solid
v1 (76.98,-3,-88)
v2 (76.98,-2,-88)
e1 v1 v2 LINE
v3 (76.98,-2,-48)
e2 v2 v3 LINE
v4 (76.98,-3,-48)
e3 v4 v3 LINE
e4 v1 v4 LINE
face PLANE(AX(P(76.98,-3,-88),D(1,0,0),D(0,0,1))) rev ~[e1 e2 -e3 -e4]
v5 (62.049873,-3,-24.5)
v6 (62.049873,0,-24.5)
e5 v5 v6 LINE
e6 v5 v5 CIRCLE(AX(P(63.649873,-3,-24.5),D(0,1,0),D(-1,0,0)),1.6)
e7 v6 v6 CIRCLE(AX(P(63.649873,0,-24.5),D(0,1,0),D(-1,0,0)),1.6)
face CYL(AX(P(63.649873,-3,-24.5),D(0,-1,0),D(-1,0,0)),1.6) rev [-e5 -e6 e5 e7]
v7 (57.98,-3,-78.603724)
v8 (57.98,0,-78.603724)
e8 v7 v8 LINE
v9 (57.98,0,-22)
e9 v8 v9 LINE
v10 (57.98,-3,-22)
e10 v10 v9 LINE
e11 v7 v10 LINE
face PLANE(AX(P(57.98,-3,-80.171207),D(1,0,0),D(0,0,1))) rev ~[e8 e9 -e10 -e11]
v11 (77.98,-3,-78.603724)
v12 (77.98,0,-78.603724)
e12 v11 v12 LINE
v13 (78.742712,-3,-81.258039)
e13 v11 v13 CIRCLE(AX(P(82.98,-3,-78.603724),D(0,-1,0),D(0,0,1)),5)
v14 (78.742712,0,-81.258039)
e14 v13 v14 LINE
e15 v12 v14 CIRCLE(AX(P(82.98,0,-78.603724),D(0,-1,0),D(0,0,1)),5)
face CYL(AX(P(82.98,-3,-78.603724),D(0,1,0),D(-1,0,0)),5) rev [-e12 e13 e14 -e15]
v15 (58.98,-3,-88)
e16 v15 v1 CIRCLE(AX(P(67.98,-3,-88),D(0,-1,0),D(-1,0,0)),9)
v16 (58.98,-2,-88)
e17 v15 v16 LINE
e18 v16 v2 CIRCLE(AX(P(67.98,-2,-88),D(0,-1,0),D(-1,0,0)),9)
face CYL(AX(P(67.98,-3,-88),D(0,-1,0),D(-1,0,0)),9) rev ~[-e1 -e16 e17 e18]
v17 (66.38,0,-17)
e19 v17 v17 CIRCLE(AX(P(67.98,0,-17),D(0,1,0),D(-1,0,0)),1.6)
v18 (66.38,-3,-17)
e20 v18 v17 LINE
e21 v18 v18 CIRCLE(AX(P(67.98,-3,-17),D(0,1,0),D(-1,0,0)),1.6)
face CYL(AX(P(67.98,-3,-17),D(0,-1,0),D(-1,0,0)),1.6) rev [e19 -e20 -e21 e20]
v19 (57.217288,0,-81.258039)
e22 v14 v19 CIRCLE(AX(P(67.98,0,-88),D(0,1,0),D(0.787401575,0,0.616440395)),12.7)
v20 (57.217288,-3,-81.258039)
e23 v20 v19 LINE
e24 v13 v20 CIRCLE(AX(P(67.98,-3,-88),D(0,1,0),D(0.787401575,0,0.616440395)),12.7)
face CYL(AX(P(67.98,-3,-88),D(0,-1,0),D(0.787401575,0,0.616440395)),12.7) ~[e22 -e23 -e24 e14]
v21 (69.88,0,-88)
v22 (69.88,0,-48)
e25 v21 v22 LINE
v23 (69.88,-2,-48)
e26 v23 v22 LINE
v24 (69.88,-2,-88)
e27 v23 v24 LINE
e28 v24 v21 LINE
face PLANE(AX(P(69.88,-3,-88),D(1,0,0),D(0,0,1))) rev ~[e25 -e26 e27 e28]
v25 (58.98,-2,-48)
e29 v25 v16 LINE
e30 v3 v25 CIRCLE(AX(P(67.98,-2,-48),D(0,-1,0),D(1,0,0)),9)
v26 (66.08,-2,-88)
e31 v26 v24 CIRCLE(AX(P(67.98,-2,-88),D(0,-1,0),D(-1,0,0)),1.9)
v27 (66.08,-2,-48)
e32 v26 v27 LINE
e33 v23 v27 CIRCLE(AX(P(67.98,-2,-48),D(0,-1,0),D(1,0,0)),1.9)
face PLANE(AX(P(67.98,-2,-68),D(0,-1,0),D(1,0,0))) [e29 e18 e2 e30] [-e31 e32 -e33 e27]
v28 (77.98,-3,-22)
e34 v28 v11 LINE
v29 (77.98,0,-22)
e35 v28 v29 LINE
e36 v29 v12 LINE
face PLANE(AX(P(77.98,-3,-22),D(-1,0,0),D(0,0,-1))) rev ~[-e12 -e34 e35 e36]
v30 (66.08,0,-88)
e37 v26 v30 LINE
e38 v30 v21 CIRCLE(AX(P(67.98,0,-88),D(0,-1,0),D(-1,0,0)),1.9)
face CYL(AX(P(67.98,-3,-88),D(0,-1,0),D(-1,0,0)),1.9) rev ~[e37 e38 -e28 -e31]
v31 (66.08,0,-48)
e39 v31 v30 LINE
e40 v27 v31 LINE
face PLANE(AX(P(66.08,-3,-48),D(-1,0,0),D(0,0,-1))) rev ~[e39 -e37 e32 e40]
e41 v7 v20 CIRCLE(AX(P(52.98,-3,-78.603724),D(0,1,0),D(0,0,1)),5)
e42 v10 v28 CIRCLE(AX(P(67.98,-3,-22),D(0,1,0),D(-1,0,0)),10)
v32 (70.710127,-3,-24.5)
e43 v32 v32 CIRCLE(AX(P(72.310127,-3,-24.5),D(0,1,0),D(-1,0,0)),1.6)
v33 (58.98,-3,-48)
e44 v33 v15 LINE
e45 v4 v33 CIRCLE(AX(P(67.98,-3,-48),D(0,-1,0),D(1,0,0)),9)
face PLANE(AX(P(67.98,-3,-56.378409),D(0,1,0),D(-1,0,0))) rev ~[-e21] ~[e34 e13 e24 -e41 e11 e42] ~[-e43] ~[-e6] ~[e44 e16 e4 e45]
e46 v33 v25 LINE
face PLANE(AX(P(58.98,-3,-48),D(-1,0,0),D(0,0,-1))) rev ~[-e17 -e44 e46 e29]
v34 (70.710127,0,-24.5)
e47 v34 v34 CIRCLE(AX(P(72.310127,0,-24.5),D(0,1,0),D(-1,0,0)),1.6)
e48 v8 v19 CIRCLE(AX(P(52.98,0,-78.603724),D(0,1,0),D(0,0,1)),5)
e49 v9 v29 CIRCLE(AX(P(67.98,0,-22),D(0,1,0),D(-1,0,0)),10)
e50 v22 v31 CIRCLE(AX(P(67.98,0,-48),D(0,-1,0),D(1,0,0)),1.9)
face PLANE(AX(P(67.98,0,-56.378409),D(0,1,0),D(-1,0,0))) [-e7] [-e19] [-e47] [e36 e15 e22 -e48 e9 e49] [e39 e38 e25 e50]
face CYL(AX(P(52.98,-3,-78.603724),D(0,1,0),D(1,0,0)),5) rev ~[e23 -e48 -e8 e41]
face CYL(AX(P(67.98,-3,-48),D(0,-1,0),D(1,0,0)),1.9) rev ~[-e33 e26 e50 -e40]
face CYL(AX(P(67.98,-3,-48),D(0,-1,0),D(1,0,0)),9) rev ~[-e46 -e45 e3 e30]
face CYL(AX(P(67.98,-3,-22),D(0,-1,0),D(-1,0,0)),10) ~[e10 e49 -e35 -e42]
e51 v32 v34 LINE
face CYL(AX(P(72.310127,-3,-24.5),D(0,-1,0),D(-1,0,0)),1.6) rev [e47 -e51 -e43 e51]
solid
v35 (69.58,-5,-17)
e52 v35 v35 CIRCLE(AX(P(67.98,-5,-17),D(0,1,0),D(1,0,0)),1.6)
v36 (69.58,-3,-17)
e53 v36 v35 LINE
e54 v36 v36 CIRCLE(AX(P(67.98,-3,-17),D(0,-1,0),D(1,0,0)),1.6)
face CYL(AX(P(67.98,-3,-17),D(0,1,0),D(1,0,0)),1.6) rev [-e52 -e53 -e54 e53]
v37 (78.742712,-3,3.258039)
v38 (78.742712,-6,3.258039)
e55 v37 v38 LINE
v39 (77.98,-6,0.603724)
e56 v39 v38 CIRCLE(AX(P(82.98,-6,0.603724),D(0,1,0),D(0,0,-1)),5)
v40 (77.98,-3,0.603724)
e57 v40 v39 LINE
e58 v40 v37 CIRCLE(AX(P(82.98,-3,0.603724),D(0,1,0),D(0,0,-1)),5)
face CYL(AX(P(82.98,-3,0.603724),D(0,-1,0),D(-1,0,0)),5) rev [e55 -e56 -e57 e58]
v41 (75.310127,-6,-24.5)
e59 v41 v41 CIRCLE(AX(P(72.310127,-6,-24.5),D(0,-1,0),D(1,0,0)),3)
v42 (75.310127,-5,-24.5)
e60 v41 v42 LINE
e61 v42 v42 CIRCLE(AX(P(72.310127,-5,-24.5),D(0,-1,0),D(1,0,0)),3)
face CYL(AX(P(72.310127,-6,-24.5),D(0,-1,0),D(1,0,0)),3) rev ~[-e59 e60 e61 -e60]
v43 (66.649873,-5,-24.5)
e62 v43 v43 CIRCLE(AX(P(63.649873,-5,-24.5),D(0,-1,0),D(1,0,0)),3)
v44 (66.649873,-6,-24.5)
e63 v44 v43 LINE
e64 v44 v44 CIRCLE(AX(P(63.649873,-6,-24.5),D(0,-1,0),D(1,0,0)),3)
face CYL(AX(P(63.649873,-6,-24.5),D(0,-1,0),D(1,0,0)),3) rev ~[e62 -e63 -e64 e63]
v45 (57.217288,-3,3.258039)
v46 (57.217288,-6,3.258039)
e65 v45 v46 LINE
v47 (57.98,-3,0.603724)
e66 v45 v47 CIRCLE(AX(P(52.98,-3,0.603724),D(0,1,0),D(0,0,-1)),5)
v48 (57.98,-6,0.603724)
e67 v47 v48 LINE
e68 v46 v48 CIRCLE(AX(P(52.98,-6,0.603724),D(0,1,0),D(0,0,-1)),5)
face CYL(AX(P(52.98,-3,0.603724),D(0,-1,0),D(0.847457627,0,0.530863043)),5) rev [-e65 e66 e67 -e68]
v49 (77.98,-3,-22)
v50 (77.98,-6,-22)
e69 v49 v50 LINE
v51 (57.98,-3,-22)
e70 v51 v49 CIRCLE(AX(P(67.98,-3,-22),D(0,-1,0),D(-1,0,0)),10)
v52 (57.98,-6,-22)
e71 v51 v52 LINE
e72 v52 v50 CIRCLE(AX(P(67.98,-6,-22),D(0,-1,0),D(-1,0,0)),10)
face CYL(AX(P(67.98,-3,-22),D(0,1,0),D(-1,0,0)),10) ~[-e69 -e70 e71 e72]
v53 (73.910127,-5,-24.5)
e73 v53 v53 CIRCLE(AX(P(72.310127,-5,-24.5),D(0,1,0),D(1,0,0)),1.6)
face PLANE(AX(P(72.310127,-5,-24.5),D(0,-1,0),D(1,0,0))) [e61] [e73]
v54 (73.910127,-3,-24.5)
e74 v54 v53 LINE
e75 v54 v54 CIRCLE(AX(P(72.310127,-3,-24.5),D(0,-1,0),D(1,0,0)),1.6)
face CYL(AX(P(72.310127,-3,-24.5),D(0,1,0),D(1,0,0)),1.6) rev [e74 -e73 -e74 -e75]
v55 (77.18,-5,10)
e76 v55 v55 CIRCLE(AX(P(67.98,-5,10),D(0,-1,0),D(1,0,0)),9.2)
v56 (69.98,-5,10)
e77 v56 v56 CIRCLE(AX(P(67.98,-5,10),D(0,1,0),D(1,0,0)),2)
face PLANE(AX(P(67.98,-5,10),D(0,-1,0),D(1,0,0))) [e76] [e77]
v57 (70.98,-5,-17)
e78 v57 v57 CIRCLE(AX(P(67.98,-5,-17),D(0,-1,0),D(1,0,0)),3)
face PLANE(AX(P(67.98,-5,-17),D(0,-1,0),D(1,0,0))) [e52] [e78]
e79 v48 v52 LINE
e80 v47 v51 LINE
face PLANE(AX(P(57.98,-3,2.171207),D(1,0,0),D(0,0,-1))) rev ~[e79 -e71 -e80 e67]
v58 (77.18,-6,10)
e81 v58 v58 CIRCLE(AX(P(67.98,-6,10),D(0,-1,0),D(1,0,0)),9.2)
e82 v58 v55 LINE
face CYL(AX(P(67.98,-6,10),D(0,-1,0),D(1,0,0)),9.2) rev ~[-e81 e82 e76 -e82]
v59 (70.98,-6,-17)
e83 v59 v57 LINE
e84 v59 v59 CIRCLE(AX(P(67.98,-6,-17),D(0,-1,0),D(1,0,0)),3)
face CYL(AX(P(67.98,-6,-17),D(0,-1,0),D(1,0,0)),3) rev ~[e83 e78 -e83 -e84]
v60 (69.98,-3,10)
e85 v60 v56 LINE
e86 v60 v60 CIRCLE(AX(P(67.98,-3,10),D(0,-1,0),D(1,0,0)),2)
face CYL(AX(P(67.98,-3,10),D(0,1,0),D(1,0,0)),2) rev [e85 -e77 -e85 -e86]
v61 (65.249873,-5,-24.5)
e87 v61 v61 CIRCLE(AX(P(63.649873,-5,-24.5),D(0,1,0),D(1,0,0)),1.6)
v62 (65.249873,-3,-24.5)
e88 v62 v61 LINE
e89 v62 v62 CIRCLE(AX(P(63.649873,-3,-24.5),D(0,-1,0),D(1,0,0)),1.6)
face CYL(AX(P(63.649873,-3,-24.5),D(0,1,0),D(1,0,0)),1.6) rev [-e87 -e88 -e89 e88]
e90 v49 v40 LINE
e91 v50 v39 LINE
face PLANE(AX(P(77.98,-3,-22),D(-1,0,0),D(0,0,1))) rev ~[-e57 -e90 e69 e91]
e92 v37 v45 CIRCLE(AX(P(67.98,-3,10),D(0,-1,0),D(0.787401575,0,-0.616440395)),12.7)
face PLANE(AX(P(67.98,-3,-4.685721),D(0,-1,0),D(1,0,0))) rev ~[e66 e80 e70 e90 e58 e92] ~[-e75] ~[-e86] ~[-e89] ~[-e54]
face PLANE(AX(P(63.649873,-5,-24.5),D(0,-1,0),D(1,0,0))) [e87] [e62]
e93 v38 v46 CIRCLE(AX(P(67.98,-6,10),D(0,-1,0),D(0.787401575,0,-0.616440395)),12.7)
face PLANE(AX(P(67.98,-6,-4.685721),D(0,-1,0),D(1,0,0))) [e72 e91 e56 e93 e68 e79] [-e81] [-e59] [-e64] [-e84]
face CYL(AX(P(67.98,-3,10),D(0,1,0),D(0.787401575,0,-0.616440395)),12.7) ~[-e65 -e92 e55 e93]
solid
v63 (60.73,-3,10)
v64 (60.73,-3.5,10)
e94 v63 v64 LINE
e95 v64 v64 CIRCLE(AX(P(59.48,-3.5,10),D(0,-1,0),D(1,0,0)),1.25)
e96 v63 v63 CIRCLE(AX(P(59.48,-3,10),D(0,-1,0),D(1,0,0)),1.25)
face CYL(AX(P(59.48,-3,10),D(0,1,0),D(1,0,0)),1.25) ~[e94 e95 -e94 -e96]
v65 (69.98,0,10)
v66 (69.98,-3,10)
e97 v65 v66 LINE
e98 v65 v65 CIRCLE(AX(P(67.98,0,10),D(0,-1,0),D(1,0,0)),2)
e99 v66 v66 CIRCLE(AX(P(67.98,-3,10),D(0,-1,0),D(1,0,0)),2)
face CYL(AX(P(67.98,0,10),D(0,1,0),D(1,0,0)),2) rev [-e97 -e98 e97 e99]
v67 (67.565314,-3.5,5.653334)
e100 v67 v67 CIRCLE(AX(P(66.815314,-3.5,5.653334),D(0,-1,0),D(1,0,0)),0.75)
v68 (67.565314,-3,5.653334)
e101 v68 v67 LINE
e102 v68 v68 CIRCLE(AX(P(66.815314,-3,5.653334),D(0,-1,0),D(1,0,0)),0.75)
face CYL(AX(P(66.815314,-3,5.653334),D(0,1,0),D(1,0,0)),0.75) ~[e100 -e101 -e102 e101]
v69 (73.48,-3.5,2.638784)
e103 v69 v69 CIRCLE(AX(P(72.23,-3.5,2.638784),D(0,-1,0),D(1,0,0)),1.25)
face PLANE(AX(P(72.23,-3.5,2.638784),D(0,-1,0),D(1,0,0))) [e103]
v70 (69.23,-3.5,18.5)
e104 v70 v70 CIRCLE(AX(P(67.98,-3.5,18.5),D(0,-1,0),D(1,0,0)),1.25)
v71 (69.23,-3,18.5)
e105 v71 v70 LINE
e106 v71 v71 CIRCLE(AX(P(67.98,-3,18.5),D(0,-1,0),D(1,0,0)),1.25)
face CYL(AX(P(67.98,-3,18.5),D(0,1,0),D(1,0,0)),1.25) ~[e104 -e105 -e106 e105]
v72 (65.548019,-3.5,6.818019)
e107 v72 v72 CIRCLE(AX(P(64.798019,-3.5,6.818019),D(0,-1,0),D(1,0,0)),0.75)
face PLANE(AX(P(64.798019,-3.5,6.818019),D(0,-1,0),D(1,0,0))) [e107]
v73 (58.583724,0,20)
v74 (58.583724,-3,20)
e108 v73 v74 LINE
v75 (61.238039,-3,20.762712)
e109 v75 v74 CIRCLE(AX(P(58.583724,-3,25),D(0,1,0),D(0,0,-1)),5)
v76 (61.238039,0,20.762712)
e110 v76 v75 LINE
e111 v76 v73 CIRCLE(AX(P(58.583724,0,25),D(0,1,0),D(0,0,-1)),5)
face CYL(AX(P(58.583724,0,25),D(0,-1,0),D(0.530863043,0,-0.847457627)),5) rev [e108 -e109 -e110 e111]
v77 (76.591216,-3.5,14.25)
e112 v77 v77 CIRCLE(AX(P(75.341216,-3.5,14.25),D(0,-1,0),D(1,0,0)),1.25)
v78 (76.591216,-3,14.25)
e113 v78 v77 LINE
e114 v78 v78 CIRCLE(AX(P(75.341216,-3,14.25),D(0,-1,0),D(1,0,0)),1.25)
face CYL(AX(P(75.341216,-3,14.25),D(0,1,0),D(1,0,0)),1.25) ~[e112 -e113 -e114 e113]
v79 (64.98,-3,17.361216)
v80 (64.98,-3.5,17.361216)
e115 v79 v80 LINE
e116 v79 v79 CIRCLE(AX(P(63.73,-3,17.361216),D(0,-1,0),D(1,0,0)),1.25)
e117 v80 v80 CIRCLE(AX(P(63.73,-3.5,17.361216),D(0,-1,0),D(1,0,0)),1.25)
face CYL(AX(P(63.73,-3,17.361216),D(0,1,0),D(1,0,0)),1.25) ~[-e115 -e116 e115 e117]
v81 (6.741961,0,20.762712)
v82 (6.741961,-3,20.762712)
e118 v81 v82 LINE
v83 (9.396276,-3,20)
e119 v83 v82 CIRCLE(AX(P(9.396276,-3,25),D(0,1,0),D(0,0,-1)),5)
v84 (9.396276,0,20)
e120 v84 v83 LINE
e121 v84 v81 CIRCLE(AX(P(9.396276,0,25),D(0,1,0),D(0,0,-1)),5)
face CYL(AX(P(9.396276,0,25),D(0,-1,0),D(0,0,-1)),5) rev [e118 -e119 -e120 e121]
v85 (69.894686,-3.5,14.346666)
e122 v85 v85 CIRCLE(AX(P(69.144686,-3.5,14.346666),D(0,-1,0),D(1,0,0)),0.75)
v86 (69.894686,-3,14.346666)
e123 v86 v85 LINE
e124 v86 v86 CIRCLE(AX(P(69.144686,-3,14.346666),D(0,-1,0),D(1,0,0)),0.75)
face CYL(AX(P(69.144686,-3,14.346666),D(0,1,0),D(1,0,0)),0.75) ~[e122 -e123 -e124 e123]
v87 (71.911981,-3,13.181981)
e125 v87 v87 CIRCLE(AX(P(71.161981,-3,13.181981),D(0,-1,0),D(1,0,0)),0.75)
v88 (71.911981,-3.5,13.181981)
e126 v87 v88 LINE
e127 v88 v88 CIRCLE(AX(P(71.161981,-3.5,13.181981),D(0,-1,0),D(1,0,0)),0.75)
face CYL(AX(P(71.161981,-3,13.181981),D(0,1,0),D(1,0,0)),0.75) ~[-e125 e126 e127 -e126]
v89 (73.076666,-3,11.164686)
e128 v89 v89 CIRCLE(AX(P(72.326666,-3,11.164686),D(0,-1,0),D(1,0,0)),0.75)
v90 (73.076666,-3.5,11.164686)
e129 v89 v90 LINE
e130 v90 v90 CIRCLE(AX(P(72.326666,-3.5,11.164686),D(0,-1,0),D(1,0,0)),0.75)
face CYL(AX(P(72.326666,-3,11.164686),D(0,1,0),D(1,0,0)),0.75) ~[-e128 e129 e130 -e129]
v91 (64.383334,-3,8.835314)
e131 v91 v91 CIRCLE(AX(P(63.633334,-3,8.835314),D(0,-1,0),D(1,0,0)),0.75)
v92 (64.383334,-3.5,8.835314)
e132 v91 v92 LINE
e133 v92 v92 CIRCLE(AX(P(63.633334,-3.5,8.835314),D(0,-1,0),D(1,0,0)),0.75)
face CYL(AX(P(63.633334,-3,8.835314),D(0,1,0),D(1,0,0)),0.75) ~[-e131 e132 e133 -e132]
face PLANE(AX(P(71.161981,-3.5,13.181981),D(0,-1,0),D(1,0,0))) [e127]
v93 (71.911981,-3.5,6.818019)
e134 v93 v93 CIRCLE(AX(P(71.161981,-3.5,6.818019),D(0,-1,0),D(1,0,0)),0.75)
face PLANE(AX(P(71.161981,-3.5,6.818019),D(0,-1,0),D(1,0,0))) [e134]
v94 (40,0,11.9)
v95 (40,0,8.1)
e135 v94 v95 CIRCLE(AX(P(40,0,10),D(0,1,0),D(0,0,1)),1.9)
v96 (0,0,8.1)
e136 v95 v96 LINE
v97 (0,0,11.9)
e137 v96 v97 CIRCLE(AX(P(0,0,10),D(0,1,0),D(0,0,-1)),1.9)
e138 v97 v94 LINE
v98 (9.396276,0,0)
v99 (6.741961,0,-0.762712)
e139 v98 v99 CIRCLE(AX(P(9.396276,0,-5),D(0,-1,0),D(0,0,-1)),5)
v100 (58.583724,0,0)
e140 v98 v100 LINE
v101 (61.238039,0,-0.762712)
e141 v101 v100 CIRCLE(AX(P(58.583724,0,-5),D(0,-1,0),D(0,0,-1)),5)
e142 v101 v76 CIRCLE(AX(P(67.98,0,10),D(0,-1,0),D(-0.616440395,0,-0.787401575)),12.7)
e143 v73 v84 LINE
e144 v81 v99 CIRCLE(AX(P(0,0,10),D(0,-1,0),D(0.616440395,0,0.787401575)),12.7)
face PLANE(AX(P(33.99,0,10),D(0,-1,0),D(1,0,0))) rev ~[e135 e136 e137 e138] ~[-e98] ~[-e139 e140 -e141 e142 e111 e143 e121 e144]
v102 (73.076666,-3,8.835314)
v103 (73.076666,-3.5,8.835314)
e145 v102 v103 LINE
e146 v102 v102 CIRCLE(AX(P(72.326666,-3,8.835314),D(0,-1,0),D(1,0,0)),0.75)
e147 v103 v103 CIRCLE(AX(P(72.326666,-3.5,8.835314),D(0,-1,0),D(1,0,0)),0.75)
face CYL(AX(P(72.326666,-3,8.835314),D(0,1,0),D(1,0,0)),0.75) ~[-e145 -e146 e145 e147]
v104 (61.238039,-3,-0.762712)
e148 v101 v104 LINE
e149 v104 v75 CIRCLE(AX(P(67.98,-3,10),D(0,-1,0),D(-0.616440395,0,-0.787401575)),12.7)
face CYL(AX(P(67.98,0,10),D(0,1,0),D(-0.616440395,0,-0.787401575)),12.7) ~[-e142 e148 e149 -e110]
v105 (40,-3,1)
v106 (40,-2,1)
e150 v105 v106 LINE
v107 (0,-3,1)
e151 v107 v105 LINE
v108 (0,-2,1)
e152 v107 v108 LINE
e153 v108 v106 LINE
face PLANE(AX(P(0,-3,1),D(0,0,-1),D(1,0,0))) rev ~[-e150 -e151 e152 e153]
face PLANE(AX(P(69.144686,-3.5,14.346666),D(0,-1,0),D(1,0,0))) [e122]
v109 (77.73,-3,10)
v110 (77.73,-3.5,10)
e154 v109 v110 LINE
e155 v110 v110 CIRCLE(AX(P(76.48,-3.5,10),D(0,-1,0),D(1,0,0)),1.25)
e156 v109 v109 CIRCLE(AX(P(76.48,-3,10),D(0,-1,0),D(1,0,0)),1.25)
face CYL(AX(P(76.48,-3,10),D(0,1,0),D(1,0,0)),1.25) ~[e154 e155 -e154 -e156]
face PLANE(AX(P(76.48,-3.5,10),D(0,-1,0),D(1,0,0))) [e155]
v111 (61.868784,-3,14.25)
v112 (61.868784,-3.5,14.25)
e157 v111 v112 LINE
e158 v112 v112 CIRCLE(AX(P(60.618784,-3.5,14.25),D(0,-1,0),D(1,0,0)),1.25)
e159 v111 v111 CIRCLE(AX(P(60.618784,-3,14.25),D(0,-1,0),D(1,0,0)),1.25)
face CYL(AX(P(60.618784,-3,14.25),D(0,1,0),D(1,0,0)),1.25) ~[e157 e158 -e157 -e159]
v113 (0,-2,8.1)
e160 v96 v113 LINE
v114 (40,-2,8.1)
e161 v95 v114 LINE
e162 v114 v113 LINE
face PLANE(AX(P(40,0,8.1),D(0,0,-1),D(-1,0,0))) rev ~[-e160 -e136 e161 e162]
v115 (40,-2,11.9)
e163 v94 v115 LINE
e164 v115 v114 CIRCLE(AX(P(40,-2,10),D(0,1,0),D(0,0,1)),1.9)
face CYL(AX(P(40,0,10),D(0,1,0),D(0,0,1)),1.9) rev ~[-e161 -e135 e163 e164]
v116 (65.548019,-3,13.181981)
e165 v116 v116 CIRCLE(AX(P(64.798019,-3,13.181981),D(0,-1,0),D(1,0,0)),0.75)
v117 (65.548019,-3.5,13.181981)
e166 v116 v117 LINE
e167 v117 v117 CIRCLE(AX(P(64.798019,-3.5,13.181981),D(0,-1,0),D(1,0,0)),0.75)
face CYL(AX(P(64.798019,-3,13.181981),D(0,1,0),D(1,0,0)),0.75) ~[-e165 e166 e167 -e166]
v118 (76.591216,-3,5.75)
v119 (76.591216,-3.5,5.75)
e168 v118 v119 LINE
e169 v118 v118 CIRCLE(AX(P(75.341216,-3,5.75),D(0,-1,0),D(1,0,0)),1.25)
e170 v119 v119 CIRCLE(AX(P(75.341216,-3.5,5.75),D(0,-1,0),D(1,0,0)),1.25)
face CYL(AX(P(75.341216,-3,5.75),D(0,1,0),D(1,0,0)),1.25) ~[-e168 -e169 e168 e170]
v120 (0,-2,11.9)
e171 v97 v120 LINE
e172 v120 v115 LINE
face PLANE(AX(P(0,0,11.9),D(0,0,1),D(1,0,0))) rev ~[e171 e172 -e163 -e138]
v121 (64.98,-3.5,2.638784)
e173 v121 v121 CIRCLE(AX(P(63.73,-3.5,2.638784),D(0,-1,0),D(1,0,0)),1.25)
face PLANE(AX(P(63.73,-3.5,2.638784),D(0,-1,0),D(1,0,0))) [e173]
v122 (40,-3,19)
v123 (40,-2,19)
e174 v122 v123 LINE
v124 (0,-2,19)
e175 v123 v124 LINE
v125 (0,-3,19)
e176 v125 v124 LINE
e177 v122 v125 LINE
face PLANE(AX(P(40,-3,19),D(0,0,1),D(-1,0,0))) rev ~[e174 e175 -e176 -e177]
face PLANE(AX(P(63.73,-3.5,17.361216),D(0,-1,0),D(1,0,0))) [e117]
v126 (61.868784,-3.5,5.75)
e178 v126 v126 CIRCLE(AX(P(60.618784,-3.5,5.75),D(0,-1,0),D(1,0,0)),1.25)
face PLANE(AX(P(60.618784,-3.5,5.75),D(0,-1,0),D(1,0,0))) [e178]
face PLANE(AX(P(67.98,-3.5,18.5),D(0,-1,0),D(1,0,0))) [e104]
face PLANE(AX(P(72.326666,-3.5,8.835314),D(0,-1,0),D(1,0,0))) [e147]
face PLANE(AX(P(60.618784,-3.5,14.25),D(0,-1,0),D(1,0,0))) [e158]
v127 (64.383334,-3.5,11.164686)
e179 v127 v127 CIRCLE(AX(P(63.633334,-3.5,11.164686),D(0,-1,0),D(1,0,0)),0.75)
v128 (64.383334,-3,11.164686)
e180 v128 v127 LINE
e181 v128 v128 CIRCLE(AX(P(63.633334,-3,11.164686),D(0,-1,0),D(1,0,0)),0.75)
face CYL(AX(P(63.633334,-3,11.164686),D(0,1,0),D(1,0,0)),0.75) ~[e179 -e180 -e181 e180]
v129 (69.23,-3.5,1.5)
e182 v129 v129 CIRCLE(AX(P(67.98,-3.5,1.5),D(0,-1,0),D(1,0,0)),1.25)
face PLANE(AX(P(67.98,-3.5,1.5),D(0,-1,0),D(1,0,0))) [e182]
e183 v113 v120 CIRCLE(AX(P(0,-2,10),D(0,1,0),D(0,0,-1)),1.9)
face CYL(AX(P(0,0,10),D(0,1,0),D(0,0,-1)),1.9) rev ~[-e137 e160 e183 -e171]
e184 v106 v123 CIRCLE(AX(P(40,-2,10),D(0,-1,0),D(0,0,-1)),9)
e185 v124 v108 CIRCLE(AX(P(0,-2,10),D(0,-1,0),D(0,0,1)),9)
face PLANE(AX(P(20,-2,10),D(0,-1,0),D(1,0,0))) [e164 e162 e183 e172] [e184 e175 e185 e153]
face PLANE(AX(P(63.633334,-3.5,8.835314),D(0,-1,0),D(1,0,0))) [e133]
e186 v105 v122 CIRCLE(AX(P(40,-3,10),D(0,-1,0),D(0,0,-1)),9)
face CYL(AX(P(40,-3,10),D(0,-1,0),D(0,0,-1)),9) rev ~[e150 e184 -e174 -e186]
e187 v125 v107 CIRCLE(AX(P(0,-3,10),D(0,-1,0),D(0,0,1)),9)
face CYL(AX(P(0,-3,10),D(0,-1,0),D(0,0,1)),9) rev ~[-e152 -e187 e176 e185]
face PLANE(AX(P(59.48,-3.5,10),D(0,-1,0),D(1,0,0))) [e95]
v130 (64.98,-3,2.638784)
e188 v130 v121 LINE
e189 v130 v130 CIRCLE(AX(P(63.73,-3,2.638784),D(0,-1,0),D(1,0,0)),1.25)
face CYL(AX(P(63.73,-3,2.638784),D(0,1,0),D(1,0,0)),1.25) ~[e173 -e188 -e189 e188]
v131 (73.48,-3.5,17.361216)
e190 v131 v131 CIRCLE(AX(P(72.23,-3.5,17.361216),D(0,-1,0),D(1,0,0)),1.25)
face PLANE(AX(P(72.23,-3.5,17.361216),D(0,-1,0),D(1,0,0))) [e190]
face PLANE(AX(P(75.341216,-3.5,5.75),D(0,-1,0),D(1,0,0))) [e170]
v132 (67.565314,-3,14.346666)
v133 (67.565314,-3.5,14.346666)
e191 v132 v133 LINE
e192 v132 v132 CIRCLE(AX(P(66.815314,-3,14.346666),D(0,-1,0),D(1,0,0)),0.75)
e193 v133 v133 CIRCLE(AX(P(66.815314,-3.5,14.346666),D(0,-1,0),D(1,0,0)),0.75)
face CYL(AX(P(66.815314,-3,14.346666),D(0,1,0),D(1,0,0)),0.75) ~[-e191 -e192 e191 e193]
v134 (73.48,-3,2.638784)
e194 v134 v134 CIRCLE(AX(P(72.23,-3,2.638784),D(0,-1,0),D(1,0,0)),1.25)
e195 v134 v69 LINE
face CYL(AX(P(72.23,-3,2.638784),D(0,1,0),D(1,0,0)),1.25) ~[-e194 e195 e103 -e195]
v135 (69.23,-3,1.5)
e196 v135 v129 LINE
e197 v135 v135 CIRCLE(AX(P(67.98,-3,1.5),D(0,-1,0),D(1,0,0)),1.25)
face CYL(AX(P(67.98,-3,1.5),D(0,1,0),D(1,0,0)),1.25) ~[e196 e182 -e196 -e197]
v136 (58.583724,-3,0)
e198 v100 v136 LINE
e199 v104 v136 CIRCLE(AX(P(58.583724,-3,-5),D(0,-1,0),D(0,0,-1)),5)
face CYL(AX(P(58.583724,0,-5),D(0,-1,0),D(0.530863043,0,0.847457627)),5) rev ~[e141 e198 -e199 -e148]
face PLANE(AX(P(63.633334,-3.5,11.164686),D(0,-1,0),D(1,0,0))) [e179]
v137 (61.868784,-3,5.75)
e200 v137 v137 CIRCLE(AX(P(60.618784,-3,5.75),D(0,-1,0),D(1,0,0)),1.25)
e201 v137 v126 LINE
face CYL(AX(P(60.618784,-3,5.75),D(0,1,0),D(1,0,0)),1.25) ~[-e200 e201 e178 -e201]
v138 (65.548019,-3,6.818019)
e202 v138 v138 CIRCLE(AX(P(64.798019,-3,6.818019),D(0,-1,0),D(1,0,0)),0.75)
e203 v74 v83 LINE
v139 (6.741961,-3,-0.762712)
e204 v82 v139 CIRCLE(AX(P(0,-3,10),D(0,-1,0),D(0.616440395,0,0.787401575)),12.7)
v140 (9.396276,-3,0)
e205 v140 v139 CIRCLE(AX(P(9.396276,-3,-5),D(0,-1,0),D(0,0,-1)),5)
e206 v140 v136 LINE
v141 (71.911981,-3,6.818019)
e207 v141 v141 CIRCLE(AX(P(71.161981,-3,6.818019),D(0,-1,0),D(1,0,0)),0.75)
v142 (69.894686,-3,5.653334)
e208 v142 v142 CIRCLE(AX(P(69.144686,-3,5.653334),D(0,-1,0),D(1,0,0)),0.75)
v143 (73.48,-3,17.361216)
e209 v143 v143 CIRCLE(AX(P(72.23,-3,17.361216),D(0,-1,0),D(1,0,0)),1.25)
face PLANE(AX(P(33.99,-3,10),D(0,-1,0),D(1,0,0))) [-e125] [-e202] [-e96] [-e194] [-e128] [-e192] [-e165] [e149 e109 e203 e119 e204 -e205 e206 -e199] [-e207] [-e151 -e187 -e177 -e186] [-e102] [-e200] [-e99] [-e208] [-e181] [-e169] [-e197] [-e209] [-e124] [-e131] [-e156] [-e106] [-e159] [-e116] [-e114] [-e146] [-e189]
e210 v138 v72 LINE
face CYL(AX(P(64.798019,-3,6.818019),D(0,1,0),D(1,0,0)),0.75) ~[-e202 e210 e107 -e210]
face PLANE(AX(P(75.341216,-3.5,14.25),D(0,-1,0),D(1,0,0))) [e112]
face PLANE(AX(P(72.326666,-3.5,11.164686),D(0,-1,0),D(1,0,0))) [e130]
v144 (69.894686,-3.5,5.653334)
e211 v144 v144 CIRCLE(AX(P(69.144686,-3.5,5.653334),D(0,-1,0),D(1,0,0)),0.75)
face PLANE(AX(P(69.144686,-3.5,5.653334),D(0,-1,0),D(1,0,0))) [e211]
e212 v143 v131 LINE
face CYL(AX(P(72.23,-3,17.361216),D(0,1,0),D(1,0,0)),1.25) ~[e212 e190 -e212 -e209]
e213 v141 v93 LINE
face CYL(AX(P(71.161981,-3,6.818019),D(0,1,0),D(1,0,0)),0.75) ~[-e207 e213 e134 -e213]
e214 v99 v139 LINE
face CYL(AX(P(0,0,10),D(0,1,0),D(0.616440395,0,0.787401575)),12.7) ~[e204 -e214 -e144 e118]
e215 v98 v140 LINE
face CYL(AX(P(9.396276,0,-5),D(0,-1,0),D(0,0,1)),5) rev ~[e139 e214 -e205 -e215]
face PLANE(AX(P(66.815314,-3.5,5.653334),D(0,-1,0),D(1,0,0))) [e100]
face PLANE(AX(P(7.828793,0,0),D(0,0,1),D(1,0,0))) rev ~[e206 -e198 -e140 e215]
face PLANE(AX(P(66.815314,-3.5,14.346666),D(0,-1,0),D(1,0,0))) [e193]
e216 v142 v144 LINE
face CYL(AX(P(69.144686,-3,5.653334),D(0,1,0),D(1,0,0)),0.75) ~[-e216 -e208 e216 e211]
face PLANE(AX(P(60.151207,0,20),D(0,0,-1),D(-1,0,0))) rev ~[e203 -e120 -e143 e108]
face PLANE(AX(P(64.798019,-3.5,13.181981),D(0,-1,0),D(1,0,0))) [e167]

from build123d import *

# Parameters (mm, degrees)
F0_R      = 2
F1_DEPTH  = 3
F3_DEPTH  = 1
F4_R      = 1.6
F4_R_2    = 2
F5_DEPTH  = 3
F6_R      = 3
F6_R_2    = 9.2
F7_DEPTH  = 1
F8_R      = 1.6
F9_DEPTH  = 3
F11_DEPTH = 1
F12_R     = 5
F12_2_R   = 5
F12_3_R   = 5
F13_R     = 1.25
F13_R_2   = 0.75
F14_DEPTH = 0.5


with BuildPart() as f1:
    # F0 (on Front) → F1 (new body)
    with BuildSketch(Plane.XZ):
        with BuildLine():
            ThreePointArc((60.1512069896, 0), (80.68, 10), (60.1512069896, 20))
            Line((60.1512069896, 20), (7.8287930104, 20))
            ThreePointArc((7.8287930104, 20), (-12.7, 10), (7.8287930104, 0))
            Line((7.8287930104, 0), (60.1512069896, 0))
        make_face()
        with BuildLine():
            ThreePointArc((0, 8.1), (-1.9, 10), (0, 11.9))
            Line((0, 11.9), (40, 11.9))
            ThreePointArc((40, 11.9), (41.9, 10), (40, 8.1))
            Line((40, 8.1), (0, 8.1))
        make_face(mode=Mode.SUBTRACT)
        with Locations((67.98, 10)):
            Circle(F0_R, mode=Mode.SUBTRACT)
    extrude(amount=F1_DEPTH)

    # F2 (on face) → F3 (cut)
    with BuildSketch(Plane.XZ.offset(3)):
        with BuildLine():
            ThreePointArc((40, 1), (49, 10), (40, 19))
            Line((40, 19), (0, 19))
            ThreePointArc((0, 19), (-9, 10), (0, 1))
            Line((0, 1), (40, 1))
        make_face()
        with BuildLine():
            ThreePointArc((0, 8.1), (-1.9, 10), (0, 11.9))
            Line((0, 11.9), (40, 11.9))
            ThreePointArc((40, 11.9), (41.9, 10), (40, 8.1))
            Line((40, 8.1), (0, 8.1))
        make_face(mode=Mode.SUBTRACT)
    extrude(amount=-F3_DEPTH, mode=Mode.SUBTRACT)

    # F12
    f12_edges = [f1.edges().sort_by_distance(p)[0] for p in [
        (7.828793, -1.5, 20),
        (7.828793, -1.5, 0),
        (60.151207, -1.5, 0),
        (60.151207, -1.5, 20),
    ]]
    fillet(f12_edges, radius=F12_R)

    # F13 (on face) → F14 (join)
    with BuildSketch(Plane.XZ.offset(3)):
        with Locations((67.98, 18.5)):
            Circle(F13_R)
        with Locations((63.73, 17.3612159322)):
            Circle(F13_R)
        with Locations((60.6187840678, 14.25)):
            Circle(F13_R)
        with Locations((59.48, 10)):
            Circle(F13_R)
        with Locations((60.6187840678, 5.75)):
            Circle(F13_R)
        with Locations((63.73, 2.6387840678)):
            Circle(F13_R)
        with Locations((67.98, 1.5)):
            Circle(F13_R)
        with Locations((72.23, 2.6387840678)):
            Circle(F13_R)
        with Locations((75.3412159322, 5.75)):
            Circle(F13_R)
        with Locations((76.48, 10)):
            Circle(F13_R)
        with Locations((75.3412159322, 14.25)):
            Circle(F13_R)
        with Locations((72.23, 17.3612159322)):
            Circle(F13_R)
        with Locations((69.144685703, 14.3466662183)):
            Circle(F13_R_2)
        with Locations((66.815314297, 14.3466662183)):
            Circle(F13_R_2)
        with Locations((64.7980194847, 13.1819805153)):
            Circle(F13_R_2)
        with Locations((63.6333337817, 11.164685703)):
            Circle(F13_R_2)
        with Locations((63.6333337817, 8.835314297)):
            Circle(F13_R_2)
        with Locations((64.7980194847, 6.8180194847)):
            Circle(F13_R_2)
        with Locations((66.815314297, 5.6533337817)):
            Circle(F13_R_2)
        with Locations((69.144685703, 5.6533337817)):
            Circle(F13_R_2)
        with Locations((71.1619805153, 6.8180194847)):
            Circle(F13_R_2)
        with Locations((72.3266662183, 8.835314297)):
            Circle(F13_R_2)
        with Locations((72.3266662183, 11.164685703)):
            Circle(F13_R_2)
        with Locations((71.1619805153, 13.1819805153)):
            Circle(F13_R_2)
    extrude(amount=F14_DEPTH)


with BuildPart() as f5:
    # F4 (on face) → F5 (new body)
    with BuildSketch(Plane.XZ.offset(3)):
        with BuildLine():
            Line((77.98, -22), (77.98, 2.1712069896))
            ThreePointArc((77.98, 2.1712069896), (67.98, 22.7), (57.98, 2.1712069896))
            Line((57.98, 2.1712069896), (57.98, -22))
            ThreePointArc((57.98, -22), (67.98, -32), (77.98, -22))
        make_face()
        with Locations((63.6498729811, -24.5)):
            Circle(F4_R, mode=Mode.SUBTRACT)
        with Locations((67.98, -17)):
            Circle(F4_R, mode=Mode.SUBTRACT)
        with Locations((72.3101270189, -24.5)):
            Circle(F4_R, mode=Mode.SUBTRACT)
        with Locations((67.98, 10)):
            Circle(F4_R_2, mode=Mode.SUBTRACT)
    extrude(amount=F5_DEPTH)

    # F6 (on face) → F7 (cut)
    with BuildSketch(Plane.XZ.offset(6)):
        with Locations((67.98, -17)):
            Circle(F6_R)
        with Locations((63.6498729811, -24.5)):
            Circle(F6_R)
        with Locations((72.3101270189, -24.5)):
            Circle(F6_R)
        with Locations((67.98, 10)):
            Circle(F6_R_2)
    extrude(amount=-F7_DEPTH, mode=Mode.SUBTRACT)

    # F12#2
    f12_2_edges = [f5.edges().sort_by_distance(p)[0] for p in [
        (57.98, -4.5, 2.171207),
        (77.98, -4.5, 2.171207),
    ]]
    fillet(f12_2_edges, radius=F12_2_R)


with BuildPart() as f9:
    # F8 (on face) → F9 (new body)
    with BuildSketch(Plane(origin=(0, -3, 0), x_dir=(-1, 0, 0), z_dir=(0, 1, 0))):
        with BuildLine():
            ThreePointArc((-57.98, -22), (-67.98, -12), (-77.98, -22))
            Line((-77.98, -22), (-77.98, -80.1712069896))
            ThreePointArc((-77.98, -80.1712069896), (-67.98, -100.7), (-57.98, -80.1712069896))
            Line((-57.98, -80.1712069896), (-57.98, -22))
        make_face()
        with BuildLine():
            Line((-66.08, -48), (-66.08, -88))
            ThreePointArc((-66.08, -88), (-67.98, -89.9), (-69.88, -88))
            Line((-69.88, -88), (-69.88, -48))
            ThreePointArc((-69.88, -48), (-67.98, -46.1), (-66.08, -48))
        make_face(mode=Mode.SUBTRACT)
        with Locations((-72.3101270189, -24.5)):
            Circle(F8_R, mode=Mode.SUBTRACT)
        with Locations((-63.6498729811, -24.5)):
            Circle(F8_R, mode=Mode.SUBTRACT)
        with Locations((-67.98, -17)):
            Circle(F8_R, mode=Mode.SUBTRACT)
    extrude(amount=F9_DEPTH)

    # F10 (on face) → F11 (cut)
    with BuildSketch(Plane.XZ.offset(3)):
        with BuildLine():
            Line((76.98, -88), (76.98, -48))
            ThreePointArc((76.98, -48), (67.98, -39), (58.98, -48))
            Line((58.98, -48), (58.98, -88))
            ThreePointArc((58.98, -88), (67.98, -97), (76.98, -88))
        make_face()
    extrude(amount=-F11_DEPTH, mode=Mode.SUBTRACT)

    # F12#3
    f12_3_edges = [f9.edges().sort_by_distance(p)[0] for p in [
        (77.98, -1.5, -80.171207),
        (57.98, -1.5, -80.171207),
    ]]
    fillet(f12_3_edges, radius=F12_3_R)


solid = Compound([f1.part, f5.part, f9.part])
